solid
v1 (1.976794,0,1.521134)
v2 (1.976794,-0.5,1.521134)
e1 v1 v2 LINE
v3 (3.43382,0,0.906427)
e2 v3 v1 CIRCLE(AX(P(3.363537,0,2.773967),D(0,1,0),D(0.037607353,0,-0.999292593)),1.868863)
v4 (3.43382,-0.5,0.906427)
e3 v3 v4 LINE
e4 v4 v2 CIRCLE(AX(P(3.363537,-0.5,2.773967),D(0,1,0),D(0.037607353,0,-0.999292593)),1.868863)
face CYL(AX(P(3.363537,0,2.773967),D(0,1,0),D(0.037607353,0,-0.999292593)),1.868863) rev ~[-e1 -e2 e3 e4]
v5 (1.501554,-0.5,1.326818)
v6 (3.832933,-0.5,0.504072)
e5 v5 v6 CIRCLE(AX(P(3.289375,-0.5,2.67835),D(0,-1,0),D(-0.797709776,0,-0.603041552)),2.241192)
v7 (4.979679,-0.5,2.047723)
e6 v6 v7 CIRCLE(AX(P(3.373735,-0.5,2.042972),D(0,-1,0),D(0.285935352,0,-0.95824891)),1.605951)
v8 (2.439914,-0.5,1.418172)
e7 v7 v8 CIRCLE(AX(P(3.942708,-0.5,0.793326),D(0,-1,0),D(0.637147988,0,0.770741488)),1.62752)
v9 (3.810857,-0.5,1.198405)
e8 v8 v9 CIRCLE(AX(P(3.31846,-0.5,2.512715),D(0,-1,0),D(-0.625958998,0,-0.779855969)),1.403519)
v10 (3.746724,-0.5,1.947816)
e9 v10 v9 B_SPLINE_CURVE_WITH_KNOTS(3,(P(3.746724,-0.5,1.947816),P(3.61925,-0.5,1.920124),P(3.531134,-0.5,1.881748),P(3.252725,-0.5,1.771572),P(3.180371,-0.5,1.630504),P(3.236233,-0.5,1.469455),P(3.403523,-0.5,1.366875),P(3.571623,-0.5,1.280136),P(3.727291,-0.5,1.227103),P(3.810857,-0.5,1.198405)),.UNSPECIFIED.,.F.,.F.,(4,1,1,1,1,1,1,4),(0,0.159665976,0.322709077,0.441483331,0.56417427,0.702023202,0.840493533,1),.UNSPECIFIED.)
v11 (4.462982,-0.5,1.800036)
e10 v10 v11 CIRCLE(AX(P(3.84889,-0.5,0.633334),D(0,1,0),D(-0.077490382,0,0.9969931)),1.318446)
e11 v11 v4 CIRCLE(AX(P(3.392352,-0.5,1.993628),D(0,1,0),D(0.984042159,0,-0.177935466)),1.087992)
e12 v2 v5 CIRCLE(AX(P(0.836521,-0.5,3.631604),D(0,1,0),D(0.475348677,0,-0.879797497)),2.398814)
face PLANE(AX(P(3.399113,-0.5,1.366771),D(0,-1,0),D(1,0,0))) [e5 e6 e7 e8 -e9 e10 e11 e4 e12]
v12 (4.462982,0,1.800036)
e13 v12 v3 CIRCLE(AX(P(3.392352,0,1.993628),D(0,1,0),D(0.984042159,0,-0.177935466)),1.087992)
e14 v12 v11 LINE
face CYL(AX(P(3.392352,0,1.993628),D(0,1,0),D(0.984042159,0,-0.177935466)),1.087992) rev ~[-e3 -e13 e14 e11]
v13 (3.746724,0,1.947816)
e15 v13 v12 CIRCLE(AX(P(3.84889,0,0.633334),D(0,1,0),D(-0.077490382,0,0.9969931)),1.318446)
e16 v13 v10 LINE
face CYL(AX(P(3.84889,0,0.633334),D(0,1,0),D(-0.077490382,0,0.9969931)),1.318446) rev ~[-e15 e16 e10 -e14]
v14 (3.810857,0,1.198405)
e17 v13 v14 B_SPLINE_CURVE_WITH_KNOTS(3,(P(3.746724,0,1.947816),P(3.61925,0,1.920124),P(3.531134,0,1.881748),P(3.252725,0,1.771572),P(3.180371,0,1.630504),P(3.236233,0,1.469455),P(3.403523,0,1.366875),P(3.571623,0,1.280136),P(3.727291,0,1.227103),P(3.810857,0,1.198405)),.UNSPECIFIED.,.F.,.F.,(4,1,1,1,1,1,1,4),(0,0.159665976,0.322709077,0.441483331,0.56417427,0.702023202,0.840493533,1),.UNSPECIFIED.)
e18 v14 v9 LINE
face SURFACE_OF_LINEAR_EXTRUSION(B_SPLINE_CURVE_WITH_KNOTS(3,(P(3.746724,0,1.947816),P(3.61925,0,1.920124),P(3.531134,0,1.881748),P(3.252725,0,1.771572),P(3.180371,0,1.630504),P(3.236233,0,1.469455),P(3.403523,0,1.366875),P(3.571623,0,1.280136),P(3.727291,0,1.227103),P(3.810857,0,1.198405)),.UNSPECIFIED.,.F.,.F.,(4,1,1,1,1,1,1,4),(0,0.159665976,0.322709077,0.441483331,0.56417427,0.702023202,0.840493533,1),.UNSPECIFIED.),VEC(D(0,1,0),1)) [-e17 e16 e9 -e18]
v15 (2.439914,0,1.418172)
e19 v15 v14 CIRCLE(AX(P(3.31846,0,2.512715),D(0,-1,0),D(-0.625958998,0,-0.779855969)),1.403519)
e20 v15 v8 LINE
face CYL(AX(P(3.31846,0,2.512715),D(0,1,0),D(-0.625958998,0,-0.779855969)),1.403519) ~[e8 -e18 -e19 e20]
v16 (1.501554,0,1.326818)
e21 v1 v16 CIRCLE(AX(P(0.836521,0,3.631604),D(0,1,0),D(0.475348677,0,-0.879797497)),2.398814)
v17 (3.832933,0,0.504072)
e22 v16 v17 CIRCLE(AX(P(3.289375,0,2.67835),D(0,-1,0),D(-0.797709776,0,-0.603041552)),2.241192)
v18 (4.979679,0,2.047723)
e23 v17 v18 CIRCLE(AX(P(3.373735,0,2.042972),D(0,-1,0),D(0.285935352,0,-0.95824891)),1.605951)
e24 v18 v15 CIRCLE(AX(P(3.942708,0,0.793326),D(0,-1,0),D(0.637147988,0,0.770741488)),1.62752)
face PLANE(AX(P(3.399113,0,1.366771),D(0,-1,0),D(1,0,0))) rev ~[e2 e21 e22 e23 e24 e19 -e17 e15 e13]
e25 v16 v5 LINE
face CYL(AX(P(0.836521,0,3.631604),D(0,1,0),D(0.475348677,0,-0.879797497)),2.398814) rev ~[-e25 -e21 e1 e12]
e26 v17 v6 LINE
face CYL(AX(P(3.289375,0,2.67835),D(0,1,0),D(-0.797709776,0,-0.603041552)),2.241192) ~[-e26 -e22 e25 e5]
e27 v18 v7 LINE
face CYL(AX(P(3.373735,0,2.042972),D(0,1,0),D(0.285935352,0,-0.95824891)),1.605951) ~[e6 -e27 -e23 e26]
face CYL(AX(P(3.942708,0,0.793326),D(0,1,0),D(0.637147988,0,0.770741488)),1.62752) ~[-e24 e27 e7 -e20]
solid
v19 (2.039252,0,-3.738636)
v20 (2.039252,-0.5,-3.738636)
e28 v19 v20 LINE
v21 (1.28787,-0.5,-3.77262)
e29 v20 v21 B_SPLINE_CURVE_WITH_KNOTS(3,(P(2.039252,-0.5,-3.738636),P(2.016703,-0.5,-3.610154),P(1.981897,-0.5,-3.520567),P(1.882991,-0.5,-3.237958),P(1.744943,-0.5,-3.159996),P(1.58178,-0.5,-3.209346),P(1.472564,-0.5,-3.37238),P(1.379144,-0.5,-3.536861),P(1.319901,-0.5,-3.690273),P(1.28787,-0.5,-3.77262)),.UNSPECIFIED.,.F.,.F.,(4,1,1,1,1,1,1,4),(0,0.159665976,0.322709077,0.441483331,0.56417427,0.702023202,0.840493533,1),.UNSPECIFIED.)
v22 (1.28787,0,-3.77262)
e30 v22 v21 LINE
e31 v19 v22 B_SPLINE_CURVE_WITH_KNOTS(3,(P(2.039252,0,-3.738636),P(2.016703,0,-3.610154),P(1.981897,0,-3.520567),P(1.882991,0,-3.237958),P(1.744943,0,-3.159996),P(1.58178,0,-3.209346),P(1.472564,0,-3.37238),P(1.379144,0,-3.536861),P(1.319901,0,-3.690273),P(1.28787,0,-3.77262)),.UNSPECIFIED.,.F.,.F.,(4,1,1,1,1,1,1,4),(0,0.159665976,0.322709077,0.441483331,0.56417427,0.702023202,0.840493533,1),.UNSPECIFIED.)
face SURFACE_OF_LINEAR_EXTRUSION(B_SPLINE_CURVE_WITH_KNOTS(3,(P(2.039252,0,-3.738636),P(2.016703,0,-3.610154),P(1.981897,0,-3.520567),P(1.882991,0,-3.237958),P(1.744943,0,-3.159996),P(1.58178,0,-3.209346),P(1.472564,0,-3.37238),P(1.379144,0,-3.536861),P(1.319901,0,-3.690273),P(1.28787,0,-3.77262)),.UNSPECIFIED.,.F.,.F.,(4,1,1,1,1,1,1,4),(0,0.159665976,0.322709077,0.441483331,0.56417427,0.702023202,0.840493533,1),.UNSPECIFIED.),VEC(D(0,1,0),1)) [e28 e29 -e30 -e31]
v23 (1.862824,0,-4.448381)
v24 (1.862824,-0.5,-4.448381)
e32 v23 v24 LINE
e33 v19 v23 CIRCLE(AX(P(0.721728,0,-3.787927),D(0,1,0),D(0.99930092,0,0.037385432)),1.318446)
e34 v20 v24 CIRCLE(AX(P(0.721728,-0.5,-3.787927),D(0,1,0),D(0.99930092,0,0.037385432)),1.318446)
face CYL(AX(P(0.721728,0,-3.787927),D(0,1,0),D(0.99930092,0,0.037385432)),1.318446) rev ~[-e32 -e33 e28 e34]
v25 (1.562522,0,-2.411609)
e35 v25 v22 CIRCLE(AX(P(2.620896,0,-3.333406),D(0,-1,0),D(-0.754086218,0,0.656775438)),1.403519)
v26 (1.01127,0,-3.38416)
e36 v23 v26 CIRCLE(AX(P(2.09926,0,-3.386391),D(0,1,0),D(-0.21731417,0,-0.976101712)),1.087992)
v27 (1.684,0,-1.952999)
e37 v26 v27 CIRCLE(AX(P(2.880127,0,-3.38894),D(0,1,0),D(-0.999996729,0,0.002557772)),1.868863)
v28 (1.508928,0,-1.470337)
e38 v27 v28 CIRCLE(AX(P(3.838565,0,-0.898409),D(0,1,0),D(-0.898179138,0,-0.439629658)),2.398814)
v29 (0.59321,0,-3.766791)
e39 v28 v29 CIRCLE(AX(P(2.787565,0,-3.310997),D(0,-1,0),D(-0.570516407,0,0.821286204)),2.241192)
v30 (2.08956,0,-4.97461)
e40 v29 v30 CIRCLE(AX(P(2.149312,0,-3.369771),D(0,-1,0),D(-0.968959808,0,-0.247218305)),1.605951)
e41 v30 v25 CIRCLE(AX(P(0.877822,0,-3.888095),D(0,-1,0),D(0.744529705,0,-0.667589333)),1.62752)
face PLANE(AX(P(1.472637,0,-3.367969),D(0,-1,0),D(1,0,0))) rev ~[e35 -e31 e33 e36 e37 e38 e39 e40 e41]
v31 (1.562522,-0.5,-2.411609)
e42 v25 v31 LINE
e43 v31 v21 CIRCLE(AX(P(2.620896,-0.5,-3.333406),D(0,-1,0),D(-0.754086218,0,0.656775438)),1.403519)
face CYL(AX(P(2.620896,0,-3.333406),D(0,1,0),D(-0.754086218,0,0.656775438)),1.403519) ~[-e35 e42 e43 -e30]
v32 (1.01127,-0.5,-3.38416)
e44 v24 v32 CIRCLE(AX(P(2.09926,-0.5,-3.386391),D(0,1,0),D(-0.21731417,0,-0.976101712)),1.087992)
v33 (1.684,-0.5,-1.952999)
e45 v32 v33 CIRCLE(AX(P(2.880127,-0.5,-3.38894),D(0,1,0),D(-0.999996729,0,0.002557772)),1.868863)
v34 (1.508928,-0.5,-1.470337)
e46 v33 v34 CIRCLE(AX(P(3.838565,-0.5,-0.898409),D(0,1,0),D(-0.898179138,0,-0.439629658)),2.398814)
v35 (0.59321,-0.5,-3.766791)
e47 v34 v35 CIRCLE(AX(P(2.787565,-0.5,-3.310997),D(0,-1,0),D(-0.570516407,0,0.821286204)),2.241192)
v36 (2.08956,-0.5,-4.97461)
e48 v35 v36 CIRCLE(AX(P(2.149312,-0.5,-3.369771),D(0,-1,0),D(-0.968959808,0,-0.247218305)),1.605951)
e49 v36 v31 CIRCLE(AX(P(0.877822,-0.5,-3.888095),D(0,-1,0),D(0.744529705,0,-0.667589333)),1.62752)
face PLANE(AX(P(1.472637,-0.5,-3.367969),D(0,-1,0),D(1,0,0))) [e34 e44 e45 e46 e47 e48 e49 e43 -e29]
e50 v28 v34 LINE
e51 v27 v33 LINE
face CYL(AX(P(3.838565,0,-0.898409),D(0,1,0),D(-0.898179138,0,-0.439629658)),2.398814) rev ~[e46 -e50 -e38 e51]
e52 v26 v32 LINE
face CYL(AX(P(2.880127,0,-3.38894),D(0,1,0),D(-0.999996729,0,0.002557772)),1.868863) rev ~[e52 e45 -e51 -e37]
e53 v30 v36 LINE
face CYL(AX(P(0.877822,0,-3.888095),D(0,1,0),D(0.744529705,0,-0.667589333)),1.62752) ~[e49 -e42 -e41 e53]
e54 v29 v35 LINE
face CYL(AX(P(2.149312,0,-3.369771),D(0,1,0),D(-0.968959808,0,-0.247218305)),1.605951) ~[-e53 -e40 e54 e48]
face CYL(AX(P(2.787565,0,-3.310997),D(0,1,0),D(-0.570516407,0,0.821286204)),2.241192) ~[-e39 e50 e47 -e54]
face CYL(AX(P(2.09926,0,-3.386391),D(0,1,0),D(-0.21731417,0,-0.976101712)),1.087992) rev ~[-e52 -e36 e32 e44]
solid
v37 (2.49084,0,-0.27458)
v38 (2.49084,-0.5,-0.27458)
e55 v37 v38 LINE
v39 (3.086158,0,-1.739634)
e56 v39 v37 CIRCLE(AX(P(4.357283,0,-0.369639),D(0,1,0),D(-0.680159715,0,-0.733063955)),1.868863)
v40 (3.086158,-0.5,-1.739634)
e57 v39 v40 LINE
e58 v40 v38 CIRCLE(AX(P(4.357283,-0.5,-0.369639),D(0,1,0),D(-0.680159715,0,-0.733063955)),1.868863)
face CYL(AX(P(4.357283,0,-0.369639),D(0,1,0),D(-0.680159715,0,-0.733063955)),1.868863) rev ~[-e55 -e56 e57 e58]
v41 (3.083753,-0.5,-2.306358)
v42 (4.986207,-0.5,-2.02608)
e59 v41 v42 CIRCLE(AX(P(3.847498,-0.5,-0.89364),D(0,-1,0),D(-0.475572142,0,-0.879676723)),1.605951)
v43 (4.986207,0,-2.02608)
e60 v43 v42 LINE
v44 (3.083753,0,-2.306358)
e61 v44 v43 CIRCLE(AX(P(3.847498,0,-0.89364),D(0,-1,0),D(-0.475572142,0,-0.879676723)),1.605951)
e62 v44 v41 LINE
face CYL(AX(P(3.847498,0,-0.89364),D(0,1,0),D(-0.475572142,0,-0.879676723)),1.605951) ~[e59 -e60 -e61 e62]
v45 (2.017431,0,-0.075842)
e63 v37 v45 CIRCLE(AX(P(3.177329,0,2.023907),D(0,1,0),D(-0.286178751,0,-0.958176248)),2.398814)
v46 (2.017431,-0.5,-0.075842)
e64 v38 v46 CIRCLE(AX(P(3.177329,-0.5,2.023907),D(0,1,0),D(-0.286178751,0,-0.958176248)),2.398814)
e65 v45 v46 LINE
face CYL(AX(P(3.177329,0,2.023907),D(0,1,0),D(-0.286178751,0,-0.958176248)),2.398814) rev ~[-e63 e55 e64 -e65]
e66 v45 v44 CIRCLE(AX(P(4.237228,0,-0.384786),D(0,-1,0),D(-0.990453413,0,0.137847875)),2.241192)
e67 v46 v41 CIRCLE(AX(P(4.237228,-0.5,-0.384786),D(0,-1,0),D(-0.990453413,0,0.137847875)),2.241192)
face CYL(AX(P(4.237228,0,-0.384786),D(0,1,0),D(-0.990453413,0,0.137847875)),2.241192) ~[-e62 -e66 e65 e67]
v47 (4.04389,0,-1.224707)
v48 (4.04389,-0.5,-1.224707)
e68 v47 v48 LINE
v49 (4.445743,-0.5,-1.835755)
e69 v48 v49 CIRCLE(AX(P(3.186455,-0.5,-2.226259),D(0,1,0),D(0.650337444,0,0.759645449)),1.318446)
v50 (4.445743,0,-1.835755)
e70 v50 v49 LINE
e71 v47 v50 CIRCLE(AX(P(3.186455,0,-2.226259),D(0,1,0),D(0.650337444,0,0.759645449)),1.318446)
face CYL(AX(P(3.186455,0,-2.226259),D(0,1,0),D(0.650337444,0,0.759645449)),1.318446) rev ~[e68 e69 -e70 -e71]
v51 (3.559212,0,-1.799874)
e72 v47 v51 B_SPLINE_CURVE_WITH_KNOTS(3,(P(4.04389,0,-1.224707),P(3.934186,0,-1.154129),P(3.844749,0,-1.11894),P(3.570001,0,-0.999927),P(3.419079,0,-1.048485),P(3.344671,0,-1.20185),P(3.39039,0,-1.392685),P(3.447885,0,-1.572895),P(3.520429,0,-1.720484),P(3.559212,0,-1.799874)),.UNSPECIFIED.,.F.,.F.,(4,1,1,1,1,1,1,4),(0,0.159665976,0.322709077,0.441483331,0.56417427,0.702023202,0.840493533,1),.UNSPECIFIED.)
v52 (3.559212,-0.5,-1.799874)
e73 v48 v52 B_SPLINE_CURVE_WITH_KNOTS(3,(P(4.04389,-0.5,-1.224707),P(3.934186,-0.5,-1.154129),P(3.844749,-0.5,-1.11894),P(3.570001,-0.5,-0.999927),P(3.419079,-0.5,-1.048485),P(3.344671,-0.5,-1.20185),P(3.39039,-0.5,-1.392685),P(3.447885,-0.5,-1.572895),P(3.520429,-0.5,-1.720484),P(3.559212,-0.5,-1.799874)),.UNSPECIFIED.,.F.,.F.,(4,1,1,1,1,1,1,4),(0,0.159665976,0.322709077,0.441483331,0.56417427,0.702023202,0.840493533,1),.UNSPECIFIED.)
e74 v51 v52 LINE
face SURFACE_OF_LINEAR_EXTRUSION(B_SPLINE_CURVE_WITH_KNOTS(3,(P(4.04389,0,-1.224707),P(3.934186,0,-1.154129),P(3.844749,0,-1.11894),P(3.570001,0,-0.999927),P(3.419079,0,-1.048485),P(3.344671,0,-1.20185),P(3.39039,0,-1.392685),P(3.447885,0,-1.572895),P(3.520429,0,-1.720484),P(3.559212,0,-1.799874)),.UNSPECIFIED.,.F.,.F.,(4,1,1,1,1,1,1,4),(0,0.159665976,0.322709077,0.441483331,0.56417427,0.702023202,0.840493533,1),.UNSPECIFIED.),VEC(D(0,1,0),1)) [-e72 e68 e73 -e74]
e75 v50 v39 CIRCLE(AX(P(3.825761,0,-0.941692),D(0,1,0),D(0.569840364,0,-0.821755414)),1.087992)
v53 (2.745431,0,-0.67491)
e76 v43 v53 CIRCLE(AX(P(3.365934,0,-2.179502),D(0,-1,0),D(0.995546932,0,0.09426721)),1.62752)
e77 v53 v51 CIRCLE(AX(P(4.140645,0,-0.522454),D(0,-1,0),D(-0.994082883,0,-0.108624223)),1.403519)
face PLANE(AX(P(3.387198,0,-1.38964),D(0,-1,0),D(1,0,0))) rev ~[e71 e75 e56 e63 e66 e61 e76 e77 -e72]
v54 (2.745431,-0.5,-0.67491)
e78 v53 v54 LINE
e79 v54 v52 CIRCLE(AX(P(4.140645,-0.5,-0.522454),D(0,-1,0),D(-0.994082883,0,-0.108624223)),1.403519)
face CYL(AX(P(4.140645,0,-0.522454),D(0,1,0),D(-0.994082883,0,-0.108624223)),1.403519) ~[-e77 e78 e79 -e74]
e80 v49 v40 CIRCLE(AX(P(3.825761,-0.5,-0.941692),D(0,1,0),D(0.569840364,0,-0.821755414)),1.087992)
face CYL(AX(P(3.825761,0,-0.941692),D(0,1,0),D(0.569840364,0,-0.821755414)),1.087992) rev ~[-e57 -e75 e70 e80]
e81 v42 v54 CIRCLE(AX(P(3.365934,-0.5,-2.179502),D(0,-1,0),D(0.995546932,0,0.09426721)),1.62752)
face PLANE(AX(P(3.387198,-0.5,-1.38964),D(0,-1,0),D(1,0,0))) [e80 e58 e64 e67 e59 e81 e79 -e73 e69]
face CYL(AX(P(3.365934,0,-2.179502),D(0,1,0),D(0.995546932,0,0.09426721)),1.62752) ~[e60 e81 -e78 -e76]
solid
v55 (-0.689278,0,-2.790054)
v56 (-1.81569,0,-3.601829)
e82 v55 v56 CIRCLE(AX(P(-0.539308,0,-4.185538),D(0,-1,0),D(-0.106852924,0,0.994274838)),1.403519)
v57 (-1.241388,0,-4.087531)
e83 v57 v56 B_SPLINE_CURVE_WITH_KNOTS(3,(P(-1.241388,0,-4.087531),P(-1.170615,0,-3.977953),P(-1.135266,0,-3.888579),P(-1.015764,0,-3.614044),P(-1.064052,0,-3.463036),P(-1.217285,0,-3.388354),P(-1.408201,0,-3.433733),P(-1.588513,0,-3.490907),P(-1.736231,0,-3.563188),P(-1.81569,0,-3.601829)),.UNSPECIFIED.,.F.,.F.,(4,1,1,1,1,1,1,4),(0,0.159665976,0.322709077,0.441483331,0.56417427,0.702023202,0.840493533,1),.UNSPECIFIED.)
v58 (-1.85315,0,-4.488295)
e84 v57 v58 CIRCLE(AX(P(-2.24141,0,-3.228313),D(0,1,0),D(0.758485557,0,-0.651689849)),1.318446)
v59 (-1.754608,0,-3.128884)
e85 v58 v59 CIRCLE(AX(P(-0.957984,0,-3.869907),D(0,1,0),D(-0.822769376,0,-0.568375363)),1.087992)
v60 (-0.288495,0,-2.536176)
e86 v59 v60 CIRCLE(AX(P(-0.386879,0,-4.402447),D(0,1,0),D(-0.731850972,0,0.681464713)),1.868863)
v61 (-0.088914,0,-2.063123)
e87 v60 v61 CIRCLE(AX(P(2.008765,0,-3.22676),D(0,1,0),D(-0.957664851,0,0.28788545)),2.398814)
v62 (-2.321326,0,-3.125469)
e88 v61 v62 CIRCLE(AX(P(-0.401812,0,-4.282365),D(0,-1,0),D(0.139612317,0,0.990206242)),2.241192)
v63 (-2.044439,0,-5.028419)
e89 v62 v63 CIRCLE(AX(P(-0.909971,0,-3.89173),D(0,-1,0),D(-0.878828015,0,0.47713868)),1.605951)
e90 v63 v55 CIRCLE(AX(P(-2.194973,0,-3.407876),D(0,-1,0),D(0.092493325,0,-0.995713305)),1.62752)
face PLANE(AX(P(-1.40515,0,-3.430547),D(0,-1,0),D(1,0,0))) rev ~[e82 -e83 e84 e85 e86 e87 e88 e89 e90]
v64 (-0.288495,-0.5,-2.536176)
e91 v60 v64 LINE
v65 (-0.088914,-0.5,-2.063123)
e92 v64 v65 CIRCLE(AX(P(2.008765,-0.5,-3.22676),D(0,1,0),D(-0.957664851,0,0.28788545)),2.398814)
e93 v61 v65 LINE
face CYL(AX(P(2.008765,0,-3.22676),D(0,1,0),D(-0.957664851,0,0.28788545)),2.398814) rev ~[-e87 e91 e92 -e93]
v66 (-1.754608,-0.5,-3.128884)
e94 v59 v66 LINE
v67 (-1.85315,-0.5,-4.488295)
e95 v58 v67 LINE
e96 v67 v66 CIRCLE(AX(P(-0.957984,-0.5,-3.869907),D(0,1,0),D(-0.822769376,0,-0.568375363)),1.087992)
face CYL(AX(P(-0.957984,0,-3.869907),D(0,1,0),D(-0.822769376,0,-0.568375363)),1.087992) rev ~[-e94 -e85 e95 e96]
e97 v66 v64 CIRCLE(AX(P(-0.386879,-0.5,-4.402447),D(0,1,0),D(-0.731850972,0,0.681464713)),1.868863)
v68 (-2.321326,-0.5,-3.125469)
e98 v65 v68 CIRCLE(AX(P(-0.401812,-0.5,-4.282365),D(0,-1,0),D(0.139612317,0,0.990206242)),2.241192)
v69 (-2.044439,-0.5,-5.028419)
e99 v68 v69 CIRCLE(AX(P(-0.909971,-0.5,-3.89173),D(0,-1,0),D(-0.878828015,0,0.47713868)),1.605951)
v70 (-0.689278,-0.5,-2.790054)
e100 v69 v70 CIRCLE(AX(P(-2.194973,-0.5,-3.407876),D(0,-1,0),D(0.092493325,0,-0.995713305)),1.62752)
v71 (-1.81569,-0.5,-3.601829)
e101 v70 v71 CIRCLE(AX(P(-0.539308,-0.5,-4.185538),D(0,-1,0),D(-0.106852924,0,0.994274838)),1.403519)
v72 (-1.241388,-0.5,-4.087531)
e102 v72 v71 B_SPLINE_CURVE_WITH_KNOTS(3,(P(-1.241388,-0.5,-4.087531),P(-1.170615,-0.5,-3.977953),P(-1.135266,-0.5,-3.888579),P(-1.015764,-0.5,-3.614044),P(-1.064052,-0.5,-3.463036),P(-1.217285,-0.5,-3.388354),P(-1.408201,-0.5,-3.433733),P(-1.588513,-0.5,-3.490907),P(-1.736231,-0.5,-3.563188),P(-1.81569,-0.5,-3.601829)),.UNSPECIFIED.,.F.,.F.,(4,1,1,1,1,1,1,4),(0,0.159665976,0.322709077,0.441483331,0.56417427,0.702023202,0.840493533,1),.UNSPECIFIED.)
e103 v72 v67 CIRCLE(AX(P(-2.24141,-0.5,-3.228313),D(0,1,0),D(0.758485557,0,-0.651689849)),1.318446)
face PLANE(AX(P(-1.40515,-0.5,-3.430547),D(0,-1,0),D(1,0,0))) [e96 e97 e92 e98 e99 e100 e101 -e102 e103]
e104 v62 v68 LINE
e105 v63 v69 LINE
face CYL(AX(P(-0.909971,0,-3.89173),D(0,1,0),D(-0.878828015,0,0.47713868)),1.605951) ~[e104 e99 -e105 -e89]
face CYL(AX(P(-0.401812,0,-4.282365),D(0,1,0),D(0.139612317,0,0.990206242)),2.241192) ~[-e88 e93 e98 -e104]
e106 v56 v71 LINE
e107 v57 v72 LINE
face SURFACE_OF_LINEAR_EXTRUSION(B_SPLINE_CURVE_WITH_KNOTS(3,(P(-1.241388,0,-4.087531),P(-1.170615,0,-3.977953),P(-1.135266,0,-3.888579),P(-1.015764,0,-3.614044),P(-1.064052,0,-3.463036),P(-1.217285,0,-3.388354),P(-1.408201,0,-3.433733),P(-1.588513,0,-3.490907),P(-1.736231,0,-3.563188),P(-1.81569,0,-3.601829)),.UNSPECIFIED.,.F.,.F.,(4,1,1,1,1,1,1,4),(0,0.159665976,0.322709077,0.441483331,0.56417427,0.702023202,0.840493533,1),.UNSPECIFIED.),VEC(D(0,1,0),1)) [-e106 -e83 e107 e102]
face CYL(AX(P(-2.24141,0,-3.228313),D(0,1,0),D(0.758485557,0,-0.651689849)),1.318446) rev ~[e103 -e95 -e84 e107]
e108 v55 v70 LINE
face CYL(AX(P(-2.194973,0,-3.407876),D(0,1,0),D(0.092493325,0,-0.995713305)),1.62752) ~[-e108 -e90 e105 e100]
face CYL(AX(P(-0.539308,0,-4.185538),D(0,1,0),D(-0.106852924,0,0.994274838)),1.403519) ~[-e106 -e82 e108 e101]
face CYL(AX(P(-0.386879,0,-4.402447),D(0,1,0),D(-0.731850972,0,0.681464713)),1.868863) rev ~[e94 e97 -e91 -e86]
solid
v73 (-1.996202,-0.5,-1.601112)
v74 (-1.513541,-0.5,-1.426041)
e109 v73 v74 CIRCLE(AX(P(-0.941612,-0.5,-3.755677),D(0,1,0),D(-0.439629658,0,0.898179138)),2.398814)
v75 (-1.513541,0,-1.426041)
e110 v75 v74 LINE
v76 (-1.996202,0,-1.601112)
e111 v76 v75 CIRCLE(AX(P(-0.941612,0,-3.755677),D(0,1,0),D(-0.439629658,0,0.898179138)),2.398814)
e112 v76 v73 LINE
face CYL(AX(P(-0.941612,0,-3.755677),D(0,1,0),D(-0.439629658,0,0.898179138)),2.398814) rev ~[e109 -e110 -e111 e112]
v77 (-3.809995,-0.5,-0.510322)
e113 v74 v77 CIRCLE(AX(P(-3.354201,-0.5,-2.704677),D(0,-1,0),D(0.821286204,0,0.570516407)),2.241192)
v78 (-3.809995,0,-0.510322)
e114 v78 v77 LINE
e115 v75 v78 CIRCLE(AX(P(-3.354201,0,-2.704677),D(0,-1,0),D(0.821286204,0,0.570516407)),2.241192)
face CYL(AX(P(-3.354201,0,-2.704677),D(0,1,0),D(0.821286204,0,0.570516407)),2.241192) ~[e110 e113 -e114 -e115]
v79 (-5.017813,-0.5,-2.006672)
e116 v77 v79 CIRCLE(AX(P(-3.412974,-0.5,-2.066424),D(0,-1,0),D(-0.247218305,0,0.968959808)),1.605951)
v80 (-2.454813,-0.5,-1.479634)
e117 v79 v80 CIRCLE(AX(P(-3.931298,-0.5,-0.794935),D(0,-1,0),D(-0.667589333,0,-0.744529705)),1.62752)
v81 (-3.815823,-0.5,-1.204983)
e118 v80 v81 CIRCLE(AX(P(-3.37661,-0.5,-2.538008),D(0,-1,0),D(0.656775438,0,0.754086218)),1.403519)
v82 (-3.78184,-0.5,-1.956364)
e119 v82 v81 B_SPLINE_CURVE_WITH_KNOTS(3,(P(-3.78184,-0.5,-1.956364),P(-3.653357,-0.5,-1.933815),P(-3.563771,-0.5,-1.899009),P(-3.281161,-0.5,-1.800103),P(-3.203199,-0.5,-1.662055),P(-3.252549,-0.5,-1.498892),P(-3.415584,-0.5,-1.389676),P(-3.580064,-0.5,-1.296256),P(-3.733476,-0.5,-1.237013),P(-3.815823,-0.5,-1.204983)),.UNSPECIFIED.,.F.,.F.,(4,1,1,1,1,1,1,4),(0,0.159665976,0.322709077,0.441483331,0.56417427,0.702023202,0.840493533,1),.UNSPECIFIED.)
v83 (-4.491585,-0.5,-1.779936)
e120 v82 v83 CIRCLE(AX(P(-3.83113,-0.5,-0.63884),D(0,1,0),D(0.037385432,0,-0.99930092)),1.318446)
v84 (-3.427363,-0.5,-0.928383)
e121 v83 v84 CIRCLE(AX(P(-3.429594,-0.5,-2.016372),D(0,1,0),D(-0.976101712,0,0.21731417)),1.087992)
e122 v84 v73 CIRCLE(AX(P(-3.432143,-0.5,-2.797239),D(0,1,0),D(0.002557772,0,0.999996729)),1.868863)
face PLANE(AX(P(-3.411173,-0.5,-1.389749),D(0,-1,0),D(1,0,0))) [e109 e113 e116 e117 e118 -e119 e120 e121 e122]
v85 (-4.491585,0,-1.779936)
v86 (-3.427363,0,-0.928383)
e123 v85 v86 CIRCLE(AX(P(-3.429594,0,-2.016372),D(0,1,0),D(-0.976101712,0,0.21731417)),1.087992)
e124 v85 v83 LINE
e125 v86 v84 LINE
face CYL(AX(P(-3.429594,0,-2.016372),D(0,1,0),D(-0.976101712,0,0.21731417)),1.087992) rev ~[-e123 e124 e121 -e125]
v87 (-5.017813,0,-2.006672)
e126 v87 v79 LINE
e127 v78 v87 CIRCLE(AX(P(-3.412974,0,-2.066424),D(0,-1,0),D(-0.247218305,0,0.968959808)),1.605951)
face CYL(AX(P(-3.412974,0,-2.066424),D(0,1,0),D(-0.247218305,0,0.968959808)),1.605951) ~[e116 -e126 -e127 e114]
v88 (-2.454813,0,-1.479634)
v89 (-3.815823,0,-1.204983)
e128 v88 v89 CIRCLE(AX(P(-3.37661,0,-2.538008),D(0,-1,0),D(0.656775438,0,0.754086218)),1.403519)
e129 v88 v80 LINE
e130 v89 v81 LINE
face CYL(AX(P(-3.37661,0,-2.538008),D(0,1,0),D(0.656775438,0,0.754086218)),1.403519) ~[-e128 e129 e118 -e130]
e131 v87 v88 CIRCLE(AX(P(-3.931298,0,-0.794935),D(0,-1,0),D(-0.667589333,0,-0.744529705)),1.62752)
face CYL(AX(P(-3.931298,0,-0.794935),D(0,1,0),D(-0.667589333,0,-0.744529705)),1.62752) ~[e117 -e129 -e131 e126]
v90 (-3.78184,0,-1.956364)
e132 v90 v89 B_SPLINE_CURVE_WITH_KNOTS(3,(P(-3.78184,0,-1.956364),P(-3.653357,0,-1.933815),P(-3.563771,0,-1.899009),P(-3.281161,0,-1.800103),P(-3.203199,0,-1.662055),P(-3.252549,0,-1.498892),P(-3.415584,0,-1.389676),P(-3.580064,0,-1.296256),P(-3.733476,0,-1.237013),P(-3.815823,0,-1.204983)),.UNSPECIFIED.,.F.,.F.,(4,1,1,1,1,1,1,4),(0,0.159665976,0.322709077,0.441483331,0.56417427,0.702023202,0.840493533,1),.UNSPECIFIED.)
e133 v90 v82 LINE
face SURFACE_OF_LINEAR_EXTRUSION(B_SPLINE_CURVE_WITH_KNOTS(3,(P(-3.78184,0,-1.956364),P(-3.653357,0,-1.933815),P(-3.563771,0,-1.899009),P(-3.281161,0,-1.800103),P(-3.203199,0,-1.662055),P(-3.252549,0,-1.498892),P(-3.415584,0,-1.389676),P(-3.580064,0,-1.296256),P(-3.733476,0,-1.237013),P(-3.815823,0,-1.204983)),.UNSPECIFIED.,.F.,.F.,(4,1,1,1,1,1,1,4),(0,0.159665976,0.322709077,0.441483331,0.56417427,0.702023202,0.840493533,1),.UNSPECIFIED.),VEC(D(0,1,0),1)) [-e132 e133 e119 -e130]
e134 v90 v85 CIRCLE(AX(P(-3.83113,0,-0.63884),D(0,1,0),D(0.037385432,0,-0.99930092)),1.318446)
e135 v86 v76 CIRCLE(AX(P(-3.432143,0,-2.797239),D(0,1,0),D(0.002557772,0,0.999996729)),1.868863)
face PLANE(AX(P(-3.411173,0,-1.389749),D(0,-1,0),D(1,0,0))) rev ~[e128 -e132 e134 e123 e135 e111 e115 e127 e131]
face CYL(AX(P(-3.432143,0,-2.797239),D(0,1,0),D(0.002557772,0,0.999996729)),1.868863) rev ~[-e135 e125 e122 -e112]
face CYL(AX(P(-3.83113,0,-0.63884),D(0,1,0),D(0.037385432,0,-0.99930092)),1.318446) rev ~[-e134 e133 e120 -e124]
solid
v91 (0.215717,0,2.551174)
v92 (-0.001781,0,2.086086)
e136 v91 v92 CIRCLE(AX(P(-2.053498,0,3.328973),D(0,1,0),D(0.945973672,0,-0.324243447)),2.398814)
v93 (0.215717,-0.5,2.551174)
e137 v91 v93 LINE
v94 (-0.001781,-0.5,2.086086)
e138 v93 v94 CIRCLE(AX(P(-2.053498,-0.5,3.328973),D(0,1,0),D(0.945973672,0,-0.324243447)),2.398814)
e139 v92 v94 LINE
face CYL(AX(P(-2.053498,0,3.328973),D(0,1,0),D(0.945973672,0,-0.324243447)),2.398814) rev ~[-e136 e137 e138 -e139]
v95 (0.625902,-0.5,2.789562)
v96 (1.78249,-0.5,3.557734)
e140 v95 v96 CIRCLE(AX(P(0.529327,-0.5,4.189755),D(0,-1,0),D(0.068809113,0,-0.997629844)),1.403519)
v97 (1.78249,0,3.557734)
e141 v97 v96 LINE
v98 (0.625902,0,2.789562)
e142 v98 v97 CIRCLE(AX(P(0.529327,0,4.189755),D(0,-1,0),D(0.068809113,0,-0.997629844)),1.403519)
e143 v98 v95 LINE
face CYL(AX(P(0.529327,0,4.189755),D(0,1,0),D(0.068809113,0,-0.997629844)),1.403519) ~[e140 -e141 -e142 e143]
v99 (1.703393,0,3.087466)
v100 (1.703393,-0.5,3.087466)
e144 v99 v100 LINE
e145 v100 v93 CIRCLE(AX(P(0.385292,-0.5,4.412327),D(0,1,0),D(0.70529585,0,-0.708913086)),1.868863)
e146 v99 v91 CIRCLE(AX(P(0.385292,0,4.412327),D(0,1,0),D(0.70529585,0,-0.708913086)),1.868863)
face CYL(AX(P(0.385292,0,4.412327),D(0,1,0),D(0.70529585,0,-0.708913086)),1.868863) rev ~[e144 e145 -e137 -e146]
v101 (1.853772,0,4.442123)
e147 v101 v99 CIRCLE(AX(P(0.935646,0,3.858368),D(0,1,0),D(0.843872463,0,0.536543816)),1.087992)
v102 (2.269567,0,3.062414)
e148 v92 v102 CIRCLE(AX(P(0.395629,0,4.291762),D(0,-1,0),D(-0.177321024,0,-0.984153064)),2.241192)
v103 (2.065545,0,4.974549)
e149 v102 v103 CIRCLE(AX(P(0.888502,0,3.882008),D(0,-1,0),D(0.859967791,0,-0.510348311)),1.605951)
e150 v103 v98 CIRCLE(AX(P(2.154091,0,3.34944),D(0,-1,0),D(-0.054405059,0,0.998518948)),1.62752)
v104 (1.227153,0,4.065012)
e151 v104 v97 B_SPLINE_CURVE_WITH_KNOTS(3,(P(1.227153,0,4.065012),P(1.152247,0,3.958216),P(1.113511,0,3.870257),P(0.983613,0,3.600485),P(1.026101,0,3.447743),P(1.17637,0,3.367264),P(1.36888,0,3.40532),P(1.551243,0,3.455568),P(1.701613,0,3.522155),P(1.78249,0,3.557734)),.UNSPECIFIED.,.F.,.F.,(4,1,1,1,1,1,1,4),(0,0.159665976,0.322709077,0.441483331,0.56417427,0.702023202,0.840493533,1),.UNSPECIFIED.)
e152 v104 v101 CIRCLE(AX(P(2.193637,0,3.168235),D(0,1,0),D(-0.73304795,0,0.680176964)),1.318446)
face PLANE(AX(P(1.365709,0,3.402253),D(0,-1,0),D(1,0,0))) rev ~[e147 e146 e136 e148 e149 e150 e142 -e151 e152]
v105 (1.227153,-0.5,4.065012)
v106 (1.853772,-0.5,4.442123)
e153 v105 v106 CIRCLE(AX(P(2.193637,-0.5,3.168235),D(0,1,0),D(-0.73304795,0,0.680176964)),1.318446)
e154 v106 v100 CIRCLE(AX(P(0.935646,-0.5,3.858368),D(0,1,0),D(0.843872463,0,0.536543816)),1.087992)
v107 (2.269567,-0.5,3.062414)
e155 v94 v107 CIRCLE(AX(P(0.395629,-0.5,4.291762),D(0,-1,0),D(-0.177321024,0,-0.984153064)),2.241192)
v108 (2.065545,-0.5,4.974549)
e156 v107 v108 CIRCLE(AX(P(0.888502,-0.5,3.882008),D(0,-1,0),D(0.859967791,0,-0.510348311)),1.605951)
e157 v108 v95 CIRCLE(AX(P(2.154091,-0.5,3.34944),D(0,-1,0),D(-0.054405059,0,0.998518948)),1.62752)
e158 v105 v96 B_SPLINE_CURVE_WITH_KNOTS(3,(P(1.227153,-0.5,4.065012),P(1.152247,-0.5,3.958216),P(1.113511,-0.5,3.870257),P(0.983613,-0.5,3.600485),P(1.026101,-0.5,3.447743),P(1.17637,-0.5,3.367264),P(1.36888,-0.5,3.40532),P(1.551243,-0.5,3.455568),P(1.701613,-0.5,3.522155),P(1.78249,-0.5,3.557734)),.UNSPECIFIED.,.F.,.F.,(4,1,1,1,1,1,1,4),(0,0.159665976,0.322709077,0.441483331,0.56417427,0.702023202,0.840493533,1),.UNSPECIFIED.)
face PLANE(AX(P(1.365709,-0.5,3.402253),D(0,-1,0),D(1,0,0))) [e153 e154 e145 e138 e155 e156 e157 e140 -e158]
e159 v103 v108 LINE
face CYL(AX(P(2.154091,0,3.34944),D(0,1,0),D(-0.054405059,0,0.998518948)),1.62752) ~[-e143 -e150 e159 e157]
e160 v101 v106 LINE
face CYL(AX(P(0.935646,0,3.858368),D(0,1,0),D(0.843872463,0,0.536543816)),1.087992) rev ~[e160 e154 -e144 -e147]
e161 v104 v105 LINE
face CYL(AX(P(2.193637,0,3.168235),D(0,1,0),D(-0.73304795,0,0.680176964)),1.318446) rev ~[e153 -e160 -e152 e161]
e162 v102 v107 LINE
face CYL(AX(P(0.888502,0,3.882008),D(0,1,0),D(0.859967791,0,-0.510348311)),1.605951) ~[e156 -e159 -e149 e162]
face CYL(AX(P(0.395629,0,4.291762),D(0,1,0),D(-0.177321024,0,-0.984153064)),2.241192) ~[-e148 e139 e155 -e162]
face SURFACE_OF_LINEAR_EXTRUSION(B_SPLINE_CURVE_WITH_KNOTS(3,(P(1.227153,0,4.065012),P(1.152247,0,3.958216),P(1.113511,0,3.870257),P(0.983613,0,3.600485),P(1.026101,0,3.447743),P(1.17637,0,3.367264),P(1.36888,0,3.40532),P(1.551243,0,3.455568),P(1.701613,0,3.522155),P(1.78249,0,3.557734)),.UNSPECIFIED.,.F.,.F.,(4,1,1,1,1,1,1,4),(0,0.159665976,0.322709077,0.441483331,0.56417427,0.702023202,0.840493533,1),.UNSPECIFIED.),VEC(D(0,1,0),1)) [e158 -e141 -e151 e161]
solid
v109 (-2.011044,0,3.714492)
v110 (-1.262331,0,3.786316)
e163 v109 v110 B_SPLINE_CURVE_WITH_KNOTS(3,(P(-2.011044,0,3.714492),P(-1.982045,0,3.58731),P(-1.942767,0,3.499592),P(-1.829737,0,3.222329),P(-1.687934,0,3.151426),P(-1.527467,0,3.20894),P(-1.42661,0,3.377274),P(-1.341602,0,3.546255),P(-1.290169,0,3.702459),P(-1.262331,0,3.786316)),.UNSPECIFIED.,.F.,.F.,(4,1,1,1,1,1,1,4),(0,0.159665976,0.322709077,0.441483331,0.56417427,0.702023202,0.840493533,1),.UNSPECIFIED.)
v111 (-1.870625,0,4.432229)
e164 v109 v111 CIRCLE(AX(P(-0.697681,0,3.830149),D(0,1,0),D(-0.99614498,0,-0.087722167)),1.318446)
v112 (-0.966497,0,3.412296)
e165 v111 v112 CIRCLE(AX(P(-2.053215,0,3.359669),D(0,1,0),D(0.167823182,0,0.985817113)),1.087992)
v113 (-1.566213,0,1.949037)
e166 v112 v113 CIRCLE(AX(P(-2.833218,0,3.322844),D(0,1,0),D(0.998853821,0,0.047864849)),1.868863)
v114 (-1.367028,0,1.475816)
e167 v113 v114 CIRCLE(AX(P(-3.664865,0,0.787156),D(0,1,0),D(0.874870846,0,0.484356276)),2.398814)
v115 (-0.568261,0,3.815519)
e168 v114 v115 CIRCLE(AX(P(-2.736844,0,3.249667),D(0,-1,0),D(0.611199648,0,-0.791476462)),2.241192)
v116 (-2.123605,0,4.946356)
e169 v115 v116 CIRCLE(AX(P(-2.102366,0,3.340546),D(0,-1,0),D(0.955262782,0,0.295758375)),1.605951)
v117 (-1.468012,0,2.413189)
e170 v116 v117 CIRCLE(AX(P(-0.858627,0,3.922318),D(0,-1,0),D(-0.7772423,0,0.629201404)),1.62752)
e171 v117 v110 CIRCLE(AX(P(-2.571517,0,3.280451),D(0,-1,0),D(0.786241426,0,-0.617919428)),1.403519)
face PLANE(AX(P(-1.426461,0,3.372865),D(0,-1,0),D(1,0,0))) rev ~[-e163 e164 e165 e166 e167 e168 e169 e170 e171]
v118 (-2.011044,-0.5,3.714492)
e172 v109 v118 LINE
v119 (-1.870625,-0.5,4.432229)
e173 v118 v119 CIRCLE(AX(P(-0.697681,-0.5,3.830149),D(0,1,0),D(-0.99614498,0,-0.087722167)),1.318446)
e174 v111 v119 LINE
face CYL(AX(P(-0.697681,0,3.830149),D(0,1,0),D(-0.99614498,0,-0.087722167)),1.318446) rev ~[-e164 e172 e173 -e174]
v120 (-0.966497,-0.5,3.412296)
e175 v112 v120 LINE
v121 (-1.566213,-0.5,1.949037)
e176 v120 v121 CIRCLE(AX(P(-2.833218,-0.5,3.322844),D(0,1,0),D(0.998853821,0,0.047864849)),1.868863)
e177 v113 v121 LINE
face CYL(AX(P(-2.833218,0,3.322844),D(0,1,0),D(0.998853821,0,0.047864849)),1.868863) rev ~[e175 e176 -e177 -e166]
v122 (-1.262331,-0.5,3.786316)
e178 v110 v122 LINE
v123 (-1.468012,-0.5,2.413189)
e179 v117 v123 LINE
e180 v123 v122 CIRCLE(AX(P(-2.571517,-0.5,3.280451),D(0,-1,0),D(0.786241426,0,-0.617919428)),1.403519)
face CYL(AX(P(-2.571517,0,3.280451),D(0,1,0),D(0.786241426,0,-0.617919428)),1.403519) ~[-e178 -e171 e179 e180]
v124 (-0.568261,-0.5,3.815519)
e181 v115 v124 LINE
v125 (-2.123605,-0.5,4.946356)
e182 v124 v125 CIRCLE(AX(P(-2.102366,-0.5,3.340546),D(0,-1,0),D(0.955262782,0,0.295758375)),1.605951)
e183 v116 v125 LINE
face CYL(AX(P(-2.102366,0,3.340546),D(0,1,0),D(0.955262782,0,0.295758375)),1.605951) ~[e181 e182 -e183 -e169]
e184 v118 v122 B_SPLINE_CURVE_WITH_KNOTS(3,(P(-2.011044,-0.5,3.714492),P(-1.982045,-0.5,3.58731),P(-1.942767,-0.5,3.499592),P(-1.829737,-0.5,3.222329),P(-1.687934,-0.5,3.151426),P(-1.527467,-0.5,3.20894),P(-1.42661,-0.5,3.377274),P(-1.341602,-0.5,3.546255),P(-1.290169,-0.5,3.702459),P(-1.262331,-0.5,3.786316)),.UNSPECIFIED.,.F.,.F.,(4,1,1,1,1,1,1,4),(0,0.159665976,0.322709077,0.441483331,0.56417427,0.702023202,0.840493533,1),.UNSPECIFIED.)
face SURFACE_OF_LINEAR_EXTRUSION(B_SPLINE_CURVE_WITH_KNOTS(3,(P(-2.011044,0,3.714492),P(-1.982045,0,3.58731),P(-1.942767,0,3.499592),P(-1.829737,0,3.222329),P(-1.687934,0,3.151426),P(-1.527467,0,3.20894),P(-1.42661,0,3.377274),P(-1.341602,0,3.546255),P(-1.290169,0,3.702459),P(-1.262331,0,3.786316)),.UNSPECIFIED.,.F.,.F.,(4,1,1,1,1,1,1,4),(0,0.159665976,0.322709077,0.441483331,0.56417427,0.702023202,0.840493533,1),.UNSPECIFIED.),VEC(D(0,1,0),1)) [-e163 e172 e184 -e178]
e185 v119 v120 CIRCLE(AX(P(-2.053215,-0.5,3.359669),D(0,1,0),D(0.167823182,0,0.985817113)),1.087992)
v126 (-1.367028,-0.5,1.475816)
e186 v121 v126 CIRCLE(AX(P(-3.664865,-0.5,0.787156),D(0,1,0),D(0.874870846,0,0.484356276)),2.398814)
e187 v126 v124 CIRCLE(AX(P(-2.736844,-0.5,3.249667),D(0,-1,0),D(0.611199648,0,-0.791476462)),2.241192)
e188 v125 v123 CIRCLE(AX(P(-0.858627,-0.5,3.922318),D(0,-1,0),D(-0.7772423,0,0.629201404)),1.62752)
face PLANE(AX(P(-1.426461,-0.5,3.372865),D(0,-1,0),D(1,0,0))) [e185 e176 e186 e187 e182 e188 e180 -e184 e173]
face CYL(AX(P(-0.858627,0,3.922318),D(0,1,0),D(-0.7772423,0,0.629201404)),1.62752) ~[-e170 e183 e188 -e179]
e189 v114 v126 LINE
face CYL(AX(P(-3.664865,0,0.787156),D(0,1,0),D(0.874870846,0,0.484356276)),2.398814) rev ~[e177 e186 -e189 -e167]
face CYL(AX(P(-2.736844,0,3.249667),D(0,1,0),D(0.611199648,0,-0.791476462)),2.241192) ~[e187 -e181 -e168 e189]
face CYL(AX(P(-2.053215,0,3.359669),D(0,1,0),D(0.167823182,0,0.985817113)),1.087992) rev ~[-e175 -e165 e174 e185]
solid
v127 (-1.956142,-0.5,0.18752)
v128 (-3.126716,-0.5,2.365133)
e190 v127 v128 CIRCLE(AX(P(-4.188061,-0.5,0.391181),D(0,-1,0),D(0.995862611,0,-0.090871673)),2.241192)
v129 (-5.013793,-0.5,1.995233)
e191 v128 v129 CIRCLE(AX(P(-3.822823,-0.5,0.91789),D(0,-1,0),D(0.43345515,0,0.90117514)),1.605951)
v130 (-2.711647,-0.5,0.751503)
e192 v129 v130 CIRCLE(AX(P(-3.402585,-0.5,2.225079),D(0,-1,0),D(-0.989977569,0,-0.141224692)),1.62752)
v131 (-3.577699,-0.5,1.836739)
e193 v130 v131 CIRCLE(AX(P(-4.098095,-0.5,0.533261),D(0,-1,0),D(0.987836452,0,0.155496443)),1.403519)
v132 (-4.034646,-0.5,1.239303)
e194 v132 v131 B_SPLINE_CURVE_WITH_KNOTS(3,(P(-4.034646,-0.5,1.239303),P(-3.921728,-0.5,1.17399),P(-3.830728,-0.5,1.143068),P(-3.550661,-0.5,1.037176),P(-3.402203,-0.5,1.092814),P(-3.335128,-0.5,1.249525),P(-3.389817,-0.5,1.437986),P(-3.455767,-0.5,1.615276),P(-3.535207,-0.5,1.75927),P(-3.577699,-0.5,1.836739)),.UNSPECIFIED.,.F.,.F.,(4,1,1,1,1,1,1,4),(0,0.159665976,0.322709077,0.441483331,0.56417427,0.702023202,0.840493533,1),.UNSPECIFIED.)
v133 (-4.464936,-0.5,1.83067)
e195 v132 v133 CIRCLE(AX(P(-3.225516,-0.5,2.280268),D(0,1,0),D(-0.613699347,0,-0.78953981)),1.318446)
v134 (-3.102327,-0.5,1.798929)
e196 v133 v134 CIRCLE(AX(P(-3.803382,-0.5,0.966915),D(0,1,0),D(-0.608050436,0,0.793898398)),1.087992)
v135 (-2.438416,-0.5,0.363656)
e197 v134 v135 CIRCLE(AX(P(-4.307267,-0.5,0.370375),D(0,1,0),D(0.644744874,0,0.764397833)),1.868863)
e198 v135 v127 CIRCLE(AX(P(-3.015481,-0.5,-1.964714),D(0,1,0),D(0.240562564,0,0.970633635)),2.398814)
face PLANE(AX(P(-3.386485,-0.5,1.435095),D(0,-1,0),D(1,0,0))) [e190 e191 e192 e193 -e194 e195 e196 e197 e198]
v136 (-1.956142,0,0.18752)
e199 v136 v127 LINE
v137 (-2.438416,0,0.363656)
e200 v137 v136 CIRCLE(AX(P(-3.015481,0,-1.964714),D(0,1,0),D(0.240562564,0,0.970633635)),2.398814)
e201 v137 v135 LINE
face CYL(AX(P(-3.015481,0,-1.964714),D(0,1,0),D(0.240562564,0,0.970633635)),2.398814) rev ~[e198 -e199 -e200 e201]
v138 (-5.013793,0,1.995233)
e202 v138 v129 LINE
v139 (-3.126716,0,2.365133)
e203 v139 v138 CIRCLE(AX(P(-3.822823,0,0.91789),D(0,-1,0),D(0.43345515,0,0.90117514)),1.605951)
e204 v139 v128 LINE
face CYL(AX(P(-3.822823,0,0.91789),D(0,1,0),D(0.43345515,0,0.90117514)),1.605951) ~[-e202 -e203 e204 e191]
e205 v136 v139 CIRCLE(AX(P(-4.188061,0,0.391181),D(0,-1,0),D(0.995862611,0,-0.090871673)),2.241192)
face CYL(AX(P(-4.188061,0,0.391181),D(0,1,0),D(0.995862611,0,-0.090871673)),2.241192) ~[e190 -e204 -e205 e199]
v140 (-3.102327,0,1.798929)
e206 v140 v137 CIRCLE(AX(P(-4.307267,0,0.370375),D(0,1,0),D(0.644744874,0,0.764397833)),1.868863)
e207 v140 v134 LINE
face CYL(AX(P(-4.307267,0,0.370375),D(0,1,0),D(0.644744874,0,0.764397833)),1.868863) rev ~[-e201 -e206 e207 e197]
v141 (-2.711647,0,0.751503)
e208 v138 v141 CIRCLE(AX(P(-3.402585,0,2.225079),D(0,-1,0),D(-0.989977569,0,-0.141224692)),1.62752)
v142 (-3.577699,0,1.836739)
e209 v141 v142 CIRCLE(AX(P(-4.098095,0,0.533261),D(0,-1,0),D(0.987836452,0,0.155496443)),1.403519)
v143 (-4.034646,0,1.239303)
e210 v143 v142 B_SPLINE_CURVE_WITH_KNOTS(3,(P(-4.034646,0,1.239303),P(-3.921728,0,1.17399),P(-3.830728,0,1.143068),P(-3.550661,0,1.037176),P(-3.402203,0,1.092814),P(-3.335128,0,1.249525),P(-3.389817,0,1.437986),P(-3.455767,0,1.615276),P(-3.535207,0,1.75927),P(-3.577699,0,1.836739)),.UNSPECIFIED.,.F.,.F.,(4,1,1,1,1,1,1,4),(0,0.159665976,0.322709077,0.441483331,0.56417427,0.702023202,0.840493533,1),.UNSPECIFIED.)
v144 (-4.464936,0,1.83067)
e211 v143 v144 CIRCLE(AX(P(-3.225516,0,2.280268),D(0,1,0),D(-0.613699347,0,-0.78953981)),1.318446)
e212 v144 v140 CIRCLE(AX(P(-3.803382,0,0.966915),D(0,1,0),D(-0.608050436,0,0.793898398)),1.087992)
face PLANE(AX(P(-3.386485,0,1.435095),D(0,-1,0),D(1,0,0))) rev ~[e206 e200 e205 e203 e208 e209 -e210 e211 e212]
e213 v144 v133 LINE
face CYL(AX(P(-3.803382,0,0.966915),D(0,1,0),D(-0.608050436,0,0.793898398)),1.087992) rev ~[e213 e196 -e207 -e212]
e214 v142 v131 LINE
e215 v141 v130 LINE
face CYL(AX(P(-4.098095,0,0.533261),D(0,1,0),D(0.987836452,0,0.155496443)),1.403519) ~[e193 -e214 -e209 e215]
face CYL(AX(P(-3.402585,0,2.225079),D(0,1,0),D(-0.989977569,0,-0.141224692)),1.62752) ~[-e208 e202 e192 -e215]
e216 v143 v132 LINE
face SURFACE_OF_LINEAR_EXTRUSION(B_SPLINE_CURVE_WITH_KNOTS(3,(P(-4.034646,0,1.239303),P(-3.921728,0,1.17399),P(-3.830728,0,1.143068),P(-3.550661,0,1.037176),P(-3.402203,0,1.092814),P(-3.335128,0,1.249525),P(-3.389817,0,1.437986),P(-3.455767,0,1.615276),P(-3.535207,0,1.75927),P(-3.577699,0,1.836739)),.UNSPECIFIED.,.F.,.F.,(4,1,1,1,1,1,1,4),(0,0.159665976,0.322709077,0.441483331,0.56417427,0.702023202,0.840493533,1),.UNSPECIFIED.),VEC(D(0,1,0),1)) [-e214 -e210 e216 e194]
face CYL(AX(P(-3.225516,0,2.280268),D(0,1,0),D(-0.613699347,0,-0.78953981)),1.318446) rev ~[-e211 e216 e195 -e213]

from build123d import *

# Parameters (mm, degrees)
F1_DEPTH = 0.5


with BuildPart() as f1:
    # F0 (on Front) → F1 (new body)
    with BuildSketch(Plane.XZ):
        with BuildLine():
            ThreePointArc((2.2695674508, 3.0624138631), (2.4853880473, 4.0523937231), (2.0655452154, 4.9745491598))
            ThreePointArc((2.0655452154, 4.9745491598), (0.795047176, 4.2448850878), (0.6259024128, 2.7895621081))
            ThreePointArc((0.6259024128, 2.7895621081), (1.3058388146, 3.0206113104), (1.7824899998, 3.5577341008))
            add(Edge.make_bspline(
                [(1.2271529412, 4.0650115261), (1.1522471768, 3.9582157112), (1.1135112999, 3.8702569304), (0.9836132774, 3.6004845847), (1.0261006807, 3.4477428546), (1.1763697185, 3.3672644546), (1.3688798609, 3.4053202023), (1.5512433645, 3.4555677732), (1.7016130659, 3.5221553355), (1.7824899998, 3.5577341008)],
                knots=[0, 0, 0, 0, 0.1596659756, 0.3227090771, 0.4414833311, 0.5641742699, 0.7020232023, 0.8404935325, 1, 1, 1, 1], degree=3))
            ThreePointArc((1.2271529412, 4.0650115261), (1.5137912384, 4.2978850866), (1.8537720418, 4.4421232991))
            ThreePointArc((1.8537720418, 4.4421232991), (2.0169951928, 3.7383286818), (1.7033930452, 3.0874659056))
            ThreePointArc((1.7033930452, 3.0874659056), (1.019074752, 2.6542124849), (0.215717385, 2.5511736868))
            ThreePointArc((0.215717385, 2.5511736868), (0.1194471121, 2.3127941338), (-0.001781144, 2.0860862015))
            ThreePointArc((-0.001781144, 2.0860862015), (1.2806928258, 2.2327322789), (2.2695674508, 3.0624138631))
        make_face()
    extrude(amount=F1_DEPTH)


with BuildPart() as f1b:
    # F0 (on Front) → F1, piece 2 (new body)
    with BuildSketch(Plane.XZ):
        with BuildLine():
            ThreePointArc((0.5932102005, -3.7667912497), (1.1406234654, -4.6194209293), (2.0895595415, -4.9746095784))
            ThreePointArc((2.0895595415, -4.9746095784), (2.4719869073, -3.5602813859), (1.5625215686, -2.4116092291))
            ThreePointArc((1.5625215686, -2.4116092291), (1.2451103858, -3.0557733273), (1.287870268, -3.7726197801))
            add(Edge.make_bspline(
                [(2.0392521754, -3.7386364875), (2.0167025044, -3.6101540686), (1.9818966553, -3.520567417), (1.8829905728, -3.2379577894), (1.7449427287, -3.1599962072), (1.5817796507, -3.2093456405), (1.4725639008, -3.3723803449), (1.3791438289, -3.5368612131), (1.3199009102, -3.6902731655), (1.287870268, -3.7726197801)],
                knots=[0, 0, 0, 0, 0.1596659756, 0.3227090771, 0.4414833311, 0.5641742699, 0.7020232023, 0.8404935325, 1, 1, 1, 1], degree=3))
            ThreePointArc((2.0392521754, -3.7386364875), (2.0012347654, -4.105986845), (1.862823852, -4.4483813947))
            ThreePointArc((1.862823852, -4.4483813947), (1.2497497086, -4.0661396451), (1.0112704311, -3.3841599573))
            ThreePointArc((1.0112704311, -3.3841599573), (1.188800105, -2.59391742), (1.684000114, -1.9529985452))
            ThreePointArc((1.684000114, -1.9529985452), (1.5835136784, -1.716365384), (1.5089282841, -1.4703373457))
            ThreePointArc((1.5089282841, -1.4703373457), (0.7057766791, -2.4808778222), (0.5932102005, -3.7667912497))
        make_face()
    extrude(amount=F1_DEPTH)


with BuildPart() as f1c:
    # F0 (on Front) → F1, piece 3 (new body)
    with BuildSketch(Plane.XZ):
        with BuildLine():
            ThreePointArc((-3.8099945255, -0.5103224409), (-4.6626242051, -1.0577357058), (-5.0178128542, -2.0066717819))
            ThreePointArc((-5.0178128542, -2.0066717819), (-3.6034846617, -2.3890991477), (-2.4548125049, -1.479633809))
            ThreePointArc((-2.4548125049, -1.479633809), (-3.0989766031, -1.1622226262), (-3.8158230559, -1.2049825084))
            add(Edge.make_bspline(
                [(-3.7818397632, -1.9563644158), (-3.6533573444, -1.9338147448), (-3.5637706928, -1.8990088957), (-3.2811610652, -1.8001028132), (-3.203199483, -1.6620549691), (-3.2525489163, -1.4988918911), (-3.4155836207, -1.3896761412), (-3.5800644889, -1.2962560693), (-3.7334764413, -1.2370131505), (-3.8158230559, -1.2049825084)],
                knots=[0, 0, 0, 0, 0.1596659756, 0.3227090771, 0.4414833311, 0.5641742699, 0.7020232023, 0.8404935325, 1, 1, 1, 1], degree=3))
            ThreePointArc((-3.7818397632, -1.9563644158), (-4.1491901208, -1.9183470058), (-4.4915846705, -1.7799360924))
            ThreePointArc((-4.4915846705, -1.7799360924), (-4.1093429209, -1.166861949), (-3.4273632331, -0.9283826715))
            ThreePointArc((-3.4273632331, -0.9283826715), (-2.6371206958, -1.1059123454), (-1.996201821, -1.6011123544))
            ThreePointArc((-1.996201821, -1.6011123544), (-1.7595686598, -1.5006259188), (-1.5135406215, -1.4260405245))
            ThreePointArc((-1.5135406215, -1.4260405245), (-2.524081098, -0.6228889195), (-3.8099945255, -0.5103224409))
        make_face()
    extrude(amount=F1_DEPTH)


with BuildPart() as f1d:
    # F0 (on Front) → F1, piece 4 (new body)
    with BuildSketch(Plane.XZ):
        with BuildLine():
            ThreePointArc((-0.568260898, 3.8155194758), (-1.1579671121, 4.6394643975), (-2.1236047072, 4.9463563784))
            ThreePointArc((-2.1236047072, 4.9463563784), (-2.4342359078, 3.5145452234), (-1.4680117809, 2.4131888493))
            ThreePointArc((-1.4680117809, 2.4131888493), (-1.1834827576, 3.0725373757), (-1.2623313175, 3.7863161573))
            add(Edge.make_bspline(
                [(-2.0110441405, 3.7144917627), (-1.9820451263, 3.5873097011), (-1.9427666288, 3.499591887), (-1.829737297, 3.2223285015), (-1.6879342458, 3.1514263843), (-1.527466866, 3.2089396575), (-1.4266101582, 3.3772736094), (-1.3416019533, 3.546255475), (-1.2901693429, 3.7024593071), (-1.2623313175, 3.7863161573)],
                knots=[0, 0, 0, 0, 0.1596659756, 0.3227090771, 0.4414833311, 0.5641742699, 0.7020232023, 0.8404935325, 1, 1, 1, 1], degree=3))
            ThreePointArc((-2.0110441405, 3.7144917627), (-1.991596717, 4.0832917171), (-1.8706252179, 4.4322293978))
            ThreePointArc((-1.8706252179, 4.4322293978), (-1.239058377, 4.0813847229), (-0.966497318, 3.4122964406))
            ThreePointArc((-0.966497318, 3.4122964406), (-1.1039575375, 2.6141080286), (-1.5662128847, 1.9490365687))
            ThreePointArc((-1.5662128847, 1.9490365687), (-1.4539233219, 1.717770854), (-1.3670281721, 1.4758162929))
            ThreePointArc((-1.3670281721, 1.4758162929), (-0.6158490526, 2.5255660182), (-0.568260898, 3.8155194758))
        make_face()
    extrude(amount=F1_DEPTH)


with BuildPart() as f1e:
    # F0 (on Front) → F1, piece 5 (new body)
    with BuildSketch(Plane.XZ):
        with BuildLine():
            ThreePointArc((-2.3213258776, -3.1254688842), (-2.4991871955, -4.1229677587), (-2.0444385116, -5.0284191862))
            ThreePointArc((-2.0444385116, -5.0284191862), (-0.8027288935, -4.2507739262), (-0.6892782612, -2.790053597))
            ThreePointArc((-0.6892782612, -2.790053597), (-1.3598962922, -3.0468973254), (-1.8156900956, -3.6018290809))
            add(Edge.make_bspline(
                [(-1.2413879079, -4.0875312861), (-1.1706147162, -3.9779531179), (-1.1352657509, -3.888579375), (-1.0157635833, -3.614043682), (-1.0640523668, -3.4630357056), (-1.2172848415, -3.3883539455), (-1.4082014478, -3.4337328421), (-1.5885132767, -3.4909072263), (-1.7362307019, -3.563188018), (-1.8156900956, -3.6018290809)],
                knots=[0, 0, 0, 0, 0.1596659756, 0.3227090771, 0.4414833311, 0.5641742699, 0.7020232023, 0.8404935325, 1, 1, 1, 1], degree=3))
            ThreePointArc((-1.2413879079, -4.0875312861), (-1.5189250021, -4.3311801523), (-1.8531501961, -4.4882951685))
            ThreePointArc((-1.8531501961, -4.4882951685), (-2.0431283523, -3.791246418), (-1.75460778, -3.128883572))
            ThreePointArc((-1.75460778, -3.128883572), (-1.0873321194, -2.6698157711), (-0.2884951206, -2.5361763223))
            ThreePointArc((-0.2884951206, -2.5361763223), (-0.2013974601, -2.2942945862), (-0.0889143431, -2.0631229507))
            ThreePointArc((-0.0889143431, -2.0631229507), (-1.364853406, -2.2586327023), (-2.3213258776, -3.1254688842))
        make_face()
    extrude(amount=F1_DEPTH)


with BuildPart() as f1f:
    # F0 (on Front) → F1, piece 6 (new body)
    with BuildSketch(Plane.XZ):
        with BuildLine():
            ThreePointArc((3.8329332791, 0.5040715362), (4.6628891361, 1.0852874413), (4.9796788934, 2.0477233627))
            ThreePointArc((4.9796788934, 2.0477233627), (3.5511323712, 2.3730382256), (2.4399140707, 1.4181723635))
            ThreePointArc((2.4399140707, 1.4181723635), (3.0963066608, 1.1268889756), (3.8108573409, 1.1984051981))
            add(Edge.make_bspline(
                [(3.7467235722, 1.9478159631), (3.6192504883, 1.9201242226), (3.5311340352, 1.8817483712), (3.2527248198, 1.771571588), (3.1803705843, 1.6305039441), (3.2362333493, 1.4694545477), (3.4035229596, 1.3668749145), (3.5716231619, 1.2801362968), (3.7272907161, 1.2271026929), (3.8108573409, 1.1984051981)],
                knots=[0, 0, 0, 0, 0.1596659756, 0.3227090771, 0.4414833311, 0.5641742699, 0.7020232023, 0.8404935325, 1, 1, 1, 1], degree=3))
            ThreePointArc((3.7467235722, 1.9478159631), (4.1153044276, 1.9245831911), (4.4629817347, 1.8000356149))
            ThreePointArc((4.4629817347, 1.8000356149), (4.1056714178, 1.1721040917), (3.4338200857, 0.9064267539))
            ThreePointArc((3.4338200857, 0.9064267539), (2.6370850102, 1.0520745221), (1.9767944582, 1.5211336228))
            ThreePointArc((1.9767944582, 1.5211336228), (1.7443880845, 1.4112243233), (1.5015541454, 1.326817838))
            ThreePointArc((1.5015541454, 1.326817838), (2.5435363829, 0.5649008006), (3.8329332791, 0.5040715362))
        make_face()
    extrude(amount=F1_DEPTH)


with BuildPart() as f1g:
    # F0 (on Front) → F1, piece 7 (new body)
    with BuildSketch(Plane.XZ):
        with BuildLine():
            ThreePointArc((-3.1267156466, 2.3651326869), (-4.1317383387, 2.4938495909), (-5.0137929817, 1.9952332457))
            ThreePointArc((-5.0137929817, 1.9952332457), (-4.1761743015, 0.7931642491), (-2.7116473276, 0.751502888))
            ThreePointArc((-2.7116473276, 0.751502888), (-3.00107768, 1.4087146617), (-3.5776994442, 1.8367387095))
            add(Edge.make_bspline(
                [(-4.0346457119, 1.2393027352), (-3.9217278198, 1.1739898785), (-3.8307276946, 1.1430675161), (-3.5506605555, 1.037176004), (-3.402203075, 1.0928140488), (-3.3351277292, 1.2495254223), (-3.3898170277, 1.4379862285), (-3.4557674181, 1.6152764195), (-3.5352071776, 1.7592704304), (-3.5776994442, 1.8367387095)],
                knots=[0, 0, 0, 0, 0.1596659756, 0.3227090771, 0.4414833311, 0.5641742699, 0.7020232023, 0.8404935325, 1, 1, 1, 1], degree=3))
            ThreePointArc((-4.0346457119, 1.2393027352), (-4.2916152919, 1.5045540191), (-4.4649359139, 1.8306699043))
            ThreePointArc((-4.4649359139, 1.8306699043), (-3.7780452825, 2.0546116845), (-3.1023270076, 1.7989293165))
            ThreePointArc((-3.1023270076, 1.7989293165), (-2.6110799779, 1.1549755847), (-2.4384160655, 0.363655658))
            ThreePointArc((-2.4384160655, 0.363655658), (-2.1925531116, 0.2885278696), (-1.9561421326, 0.1875198218))
            ThreePointArc((-1.9561421326, 0.1875198218), (-2.2140051488, 1.4523325431), (-3.1267156466, 2.3651326869))
        make_face()
    extrude(amount=F1_DEPTH)


with BuildPart() as f1h:
    # F0 (on Front) → F1, piece 8 (new body)
    with BuildSketch(Plane.XZ):
        with BuildLine():
            ThreePointArc((3.0837530583, -2.3063576468), (4.0815672397, -2.4824414693), (4.9862070183, -2.0260802922))
            ThreePointArc((4.9862070183, -2.0260802922), (4.2063506767, -0.7857581516), (2.7454305344, -0.6749102198))
            ThreePointArc((2.7454305344, -0.6749102198), (3.0034686747, -1.3450695759), (3.5592116232, -1.799873951))
            add(Edge.make_bspline(
                [(4.043889841, -1.2247073141), (3.9341857522, -1.1541294669), (3.844749171, -1.1189397921), (3.5700010004, -0.999926946), (3.4190792983, -1.0484846991), (3.3446706664, -1.2018499887), (3.3903896412, -1.3926854419), (3.4478851907, -1.5728951187), (3.5204290512, -1.7204835291), (3.5592116232, -1.799873951)],
                knots=[0, 0, 0, 0, 0.1596659756, 0.3227090771, 0.4414833311, 0.5641742699, 0.7020232023, 0.8404935325, 1, 1, 1, 1], degree=3))
            ThreePointArc((4.043889841, -1.2247073141), (4.2880327998, -1.5018098661), (4.4457430453, -1.8357546027))
            ThreePointArc((4.4457430453, -1.8357546027), (3.7490338794, -2.0269743676), (3.0861580364, -1.7396343648))
            ThreePointArc((3.0861580364, -1.7396343648), (2.6259020997, -1.0731776703), (2.4908395996, -0.2745800407))
            ThreePointArc((2.4908395996, -0.2745800407), (2.2488030682, -0.1879134717), (2.0174313919, -0.0758424047))
            ThreePointArc((2.0174313919, -0.0758424047), (2.2152141346, -1.3514311087), (3.0837530583, -2.3063576468))
        make_face()
    extrude(amount=F1_DEPTH)


solid = Compound([f1.part, f1b.part, f1c.part, f1d.part, f1e.part, f1f.part, f1g.part, f1h.part])
